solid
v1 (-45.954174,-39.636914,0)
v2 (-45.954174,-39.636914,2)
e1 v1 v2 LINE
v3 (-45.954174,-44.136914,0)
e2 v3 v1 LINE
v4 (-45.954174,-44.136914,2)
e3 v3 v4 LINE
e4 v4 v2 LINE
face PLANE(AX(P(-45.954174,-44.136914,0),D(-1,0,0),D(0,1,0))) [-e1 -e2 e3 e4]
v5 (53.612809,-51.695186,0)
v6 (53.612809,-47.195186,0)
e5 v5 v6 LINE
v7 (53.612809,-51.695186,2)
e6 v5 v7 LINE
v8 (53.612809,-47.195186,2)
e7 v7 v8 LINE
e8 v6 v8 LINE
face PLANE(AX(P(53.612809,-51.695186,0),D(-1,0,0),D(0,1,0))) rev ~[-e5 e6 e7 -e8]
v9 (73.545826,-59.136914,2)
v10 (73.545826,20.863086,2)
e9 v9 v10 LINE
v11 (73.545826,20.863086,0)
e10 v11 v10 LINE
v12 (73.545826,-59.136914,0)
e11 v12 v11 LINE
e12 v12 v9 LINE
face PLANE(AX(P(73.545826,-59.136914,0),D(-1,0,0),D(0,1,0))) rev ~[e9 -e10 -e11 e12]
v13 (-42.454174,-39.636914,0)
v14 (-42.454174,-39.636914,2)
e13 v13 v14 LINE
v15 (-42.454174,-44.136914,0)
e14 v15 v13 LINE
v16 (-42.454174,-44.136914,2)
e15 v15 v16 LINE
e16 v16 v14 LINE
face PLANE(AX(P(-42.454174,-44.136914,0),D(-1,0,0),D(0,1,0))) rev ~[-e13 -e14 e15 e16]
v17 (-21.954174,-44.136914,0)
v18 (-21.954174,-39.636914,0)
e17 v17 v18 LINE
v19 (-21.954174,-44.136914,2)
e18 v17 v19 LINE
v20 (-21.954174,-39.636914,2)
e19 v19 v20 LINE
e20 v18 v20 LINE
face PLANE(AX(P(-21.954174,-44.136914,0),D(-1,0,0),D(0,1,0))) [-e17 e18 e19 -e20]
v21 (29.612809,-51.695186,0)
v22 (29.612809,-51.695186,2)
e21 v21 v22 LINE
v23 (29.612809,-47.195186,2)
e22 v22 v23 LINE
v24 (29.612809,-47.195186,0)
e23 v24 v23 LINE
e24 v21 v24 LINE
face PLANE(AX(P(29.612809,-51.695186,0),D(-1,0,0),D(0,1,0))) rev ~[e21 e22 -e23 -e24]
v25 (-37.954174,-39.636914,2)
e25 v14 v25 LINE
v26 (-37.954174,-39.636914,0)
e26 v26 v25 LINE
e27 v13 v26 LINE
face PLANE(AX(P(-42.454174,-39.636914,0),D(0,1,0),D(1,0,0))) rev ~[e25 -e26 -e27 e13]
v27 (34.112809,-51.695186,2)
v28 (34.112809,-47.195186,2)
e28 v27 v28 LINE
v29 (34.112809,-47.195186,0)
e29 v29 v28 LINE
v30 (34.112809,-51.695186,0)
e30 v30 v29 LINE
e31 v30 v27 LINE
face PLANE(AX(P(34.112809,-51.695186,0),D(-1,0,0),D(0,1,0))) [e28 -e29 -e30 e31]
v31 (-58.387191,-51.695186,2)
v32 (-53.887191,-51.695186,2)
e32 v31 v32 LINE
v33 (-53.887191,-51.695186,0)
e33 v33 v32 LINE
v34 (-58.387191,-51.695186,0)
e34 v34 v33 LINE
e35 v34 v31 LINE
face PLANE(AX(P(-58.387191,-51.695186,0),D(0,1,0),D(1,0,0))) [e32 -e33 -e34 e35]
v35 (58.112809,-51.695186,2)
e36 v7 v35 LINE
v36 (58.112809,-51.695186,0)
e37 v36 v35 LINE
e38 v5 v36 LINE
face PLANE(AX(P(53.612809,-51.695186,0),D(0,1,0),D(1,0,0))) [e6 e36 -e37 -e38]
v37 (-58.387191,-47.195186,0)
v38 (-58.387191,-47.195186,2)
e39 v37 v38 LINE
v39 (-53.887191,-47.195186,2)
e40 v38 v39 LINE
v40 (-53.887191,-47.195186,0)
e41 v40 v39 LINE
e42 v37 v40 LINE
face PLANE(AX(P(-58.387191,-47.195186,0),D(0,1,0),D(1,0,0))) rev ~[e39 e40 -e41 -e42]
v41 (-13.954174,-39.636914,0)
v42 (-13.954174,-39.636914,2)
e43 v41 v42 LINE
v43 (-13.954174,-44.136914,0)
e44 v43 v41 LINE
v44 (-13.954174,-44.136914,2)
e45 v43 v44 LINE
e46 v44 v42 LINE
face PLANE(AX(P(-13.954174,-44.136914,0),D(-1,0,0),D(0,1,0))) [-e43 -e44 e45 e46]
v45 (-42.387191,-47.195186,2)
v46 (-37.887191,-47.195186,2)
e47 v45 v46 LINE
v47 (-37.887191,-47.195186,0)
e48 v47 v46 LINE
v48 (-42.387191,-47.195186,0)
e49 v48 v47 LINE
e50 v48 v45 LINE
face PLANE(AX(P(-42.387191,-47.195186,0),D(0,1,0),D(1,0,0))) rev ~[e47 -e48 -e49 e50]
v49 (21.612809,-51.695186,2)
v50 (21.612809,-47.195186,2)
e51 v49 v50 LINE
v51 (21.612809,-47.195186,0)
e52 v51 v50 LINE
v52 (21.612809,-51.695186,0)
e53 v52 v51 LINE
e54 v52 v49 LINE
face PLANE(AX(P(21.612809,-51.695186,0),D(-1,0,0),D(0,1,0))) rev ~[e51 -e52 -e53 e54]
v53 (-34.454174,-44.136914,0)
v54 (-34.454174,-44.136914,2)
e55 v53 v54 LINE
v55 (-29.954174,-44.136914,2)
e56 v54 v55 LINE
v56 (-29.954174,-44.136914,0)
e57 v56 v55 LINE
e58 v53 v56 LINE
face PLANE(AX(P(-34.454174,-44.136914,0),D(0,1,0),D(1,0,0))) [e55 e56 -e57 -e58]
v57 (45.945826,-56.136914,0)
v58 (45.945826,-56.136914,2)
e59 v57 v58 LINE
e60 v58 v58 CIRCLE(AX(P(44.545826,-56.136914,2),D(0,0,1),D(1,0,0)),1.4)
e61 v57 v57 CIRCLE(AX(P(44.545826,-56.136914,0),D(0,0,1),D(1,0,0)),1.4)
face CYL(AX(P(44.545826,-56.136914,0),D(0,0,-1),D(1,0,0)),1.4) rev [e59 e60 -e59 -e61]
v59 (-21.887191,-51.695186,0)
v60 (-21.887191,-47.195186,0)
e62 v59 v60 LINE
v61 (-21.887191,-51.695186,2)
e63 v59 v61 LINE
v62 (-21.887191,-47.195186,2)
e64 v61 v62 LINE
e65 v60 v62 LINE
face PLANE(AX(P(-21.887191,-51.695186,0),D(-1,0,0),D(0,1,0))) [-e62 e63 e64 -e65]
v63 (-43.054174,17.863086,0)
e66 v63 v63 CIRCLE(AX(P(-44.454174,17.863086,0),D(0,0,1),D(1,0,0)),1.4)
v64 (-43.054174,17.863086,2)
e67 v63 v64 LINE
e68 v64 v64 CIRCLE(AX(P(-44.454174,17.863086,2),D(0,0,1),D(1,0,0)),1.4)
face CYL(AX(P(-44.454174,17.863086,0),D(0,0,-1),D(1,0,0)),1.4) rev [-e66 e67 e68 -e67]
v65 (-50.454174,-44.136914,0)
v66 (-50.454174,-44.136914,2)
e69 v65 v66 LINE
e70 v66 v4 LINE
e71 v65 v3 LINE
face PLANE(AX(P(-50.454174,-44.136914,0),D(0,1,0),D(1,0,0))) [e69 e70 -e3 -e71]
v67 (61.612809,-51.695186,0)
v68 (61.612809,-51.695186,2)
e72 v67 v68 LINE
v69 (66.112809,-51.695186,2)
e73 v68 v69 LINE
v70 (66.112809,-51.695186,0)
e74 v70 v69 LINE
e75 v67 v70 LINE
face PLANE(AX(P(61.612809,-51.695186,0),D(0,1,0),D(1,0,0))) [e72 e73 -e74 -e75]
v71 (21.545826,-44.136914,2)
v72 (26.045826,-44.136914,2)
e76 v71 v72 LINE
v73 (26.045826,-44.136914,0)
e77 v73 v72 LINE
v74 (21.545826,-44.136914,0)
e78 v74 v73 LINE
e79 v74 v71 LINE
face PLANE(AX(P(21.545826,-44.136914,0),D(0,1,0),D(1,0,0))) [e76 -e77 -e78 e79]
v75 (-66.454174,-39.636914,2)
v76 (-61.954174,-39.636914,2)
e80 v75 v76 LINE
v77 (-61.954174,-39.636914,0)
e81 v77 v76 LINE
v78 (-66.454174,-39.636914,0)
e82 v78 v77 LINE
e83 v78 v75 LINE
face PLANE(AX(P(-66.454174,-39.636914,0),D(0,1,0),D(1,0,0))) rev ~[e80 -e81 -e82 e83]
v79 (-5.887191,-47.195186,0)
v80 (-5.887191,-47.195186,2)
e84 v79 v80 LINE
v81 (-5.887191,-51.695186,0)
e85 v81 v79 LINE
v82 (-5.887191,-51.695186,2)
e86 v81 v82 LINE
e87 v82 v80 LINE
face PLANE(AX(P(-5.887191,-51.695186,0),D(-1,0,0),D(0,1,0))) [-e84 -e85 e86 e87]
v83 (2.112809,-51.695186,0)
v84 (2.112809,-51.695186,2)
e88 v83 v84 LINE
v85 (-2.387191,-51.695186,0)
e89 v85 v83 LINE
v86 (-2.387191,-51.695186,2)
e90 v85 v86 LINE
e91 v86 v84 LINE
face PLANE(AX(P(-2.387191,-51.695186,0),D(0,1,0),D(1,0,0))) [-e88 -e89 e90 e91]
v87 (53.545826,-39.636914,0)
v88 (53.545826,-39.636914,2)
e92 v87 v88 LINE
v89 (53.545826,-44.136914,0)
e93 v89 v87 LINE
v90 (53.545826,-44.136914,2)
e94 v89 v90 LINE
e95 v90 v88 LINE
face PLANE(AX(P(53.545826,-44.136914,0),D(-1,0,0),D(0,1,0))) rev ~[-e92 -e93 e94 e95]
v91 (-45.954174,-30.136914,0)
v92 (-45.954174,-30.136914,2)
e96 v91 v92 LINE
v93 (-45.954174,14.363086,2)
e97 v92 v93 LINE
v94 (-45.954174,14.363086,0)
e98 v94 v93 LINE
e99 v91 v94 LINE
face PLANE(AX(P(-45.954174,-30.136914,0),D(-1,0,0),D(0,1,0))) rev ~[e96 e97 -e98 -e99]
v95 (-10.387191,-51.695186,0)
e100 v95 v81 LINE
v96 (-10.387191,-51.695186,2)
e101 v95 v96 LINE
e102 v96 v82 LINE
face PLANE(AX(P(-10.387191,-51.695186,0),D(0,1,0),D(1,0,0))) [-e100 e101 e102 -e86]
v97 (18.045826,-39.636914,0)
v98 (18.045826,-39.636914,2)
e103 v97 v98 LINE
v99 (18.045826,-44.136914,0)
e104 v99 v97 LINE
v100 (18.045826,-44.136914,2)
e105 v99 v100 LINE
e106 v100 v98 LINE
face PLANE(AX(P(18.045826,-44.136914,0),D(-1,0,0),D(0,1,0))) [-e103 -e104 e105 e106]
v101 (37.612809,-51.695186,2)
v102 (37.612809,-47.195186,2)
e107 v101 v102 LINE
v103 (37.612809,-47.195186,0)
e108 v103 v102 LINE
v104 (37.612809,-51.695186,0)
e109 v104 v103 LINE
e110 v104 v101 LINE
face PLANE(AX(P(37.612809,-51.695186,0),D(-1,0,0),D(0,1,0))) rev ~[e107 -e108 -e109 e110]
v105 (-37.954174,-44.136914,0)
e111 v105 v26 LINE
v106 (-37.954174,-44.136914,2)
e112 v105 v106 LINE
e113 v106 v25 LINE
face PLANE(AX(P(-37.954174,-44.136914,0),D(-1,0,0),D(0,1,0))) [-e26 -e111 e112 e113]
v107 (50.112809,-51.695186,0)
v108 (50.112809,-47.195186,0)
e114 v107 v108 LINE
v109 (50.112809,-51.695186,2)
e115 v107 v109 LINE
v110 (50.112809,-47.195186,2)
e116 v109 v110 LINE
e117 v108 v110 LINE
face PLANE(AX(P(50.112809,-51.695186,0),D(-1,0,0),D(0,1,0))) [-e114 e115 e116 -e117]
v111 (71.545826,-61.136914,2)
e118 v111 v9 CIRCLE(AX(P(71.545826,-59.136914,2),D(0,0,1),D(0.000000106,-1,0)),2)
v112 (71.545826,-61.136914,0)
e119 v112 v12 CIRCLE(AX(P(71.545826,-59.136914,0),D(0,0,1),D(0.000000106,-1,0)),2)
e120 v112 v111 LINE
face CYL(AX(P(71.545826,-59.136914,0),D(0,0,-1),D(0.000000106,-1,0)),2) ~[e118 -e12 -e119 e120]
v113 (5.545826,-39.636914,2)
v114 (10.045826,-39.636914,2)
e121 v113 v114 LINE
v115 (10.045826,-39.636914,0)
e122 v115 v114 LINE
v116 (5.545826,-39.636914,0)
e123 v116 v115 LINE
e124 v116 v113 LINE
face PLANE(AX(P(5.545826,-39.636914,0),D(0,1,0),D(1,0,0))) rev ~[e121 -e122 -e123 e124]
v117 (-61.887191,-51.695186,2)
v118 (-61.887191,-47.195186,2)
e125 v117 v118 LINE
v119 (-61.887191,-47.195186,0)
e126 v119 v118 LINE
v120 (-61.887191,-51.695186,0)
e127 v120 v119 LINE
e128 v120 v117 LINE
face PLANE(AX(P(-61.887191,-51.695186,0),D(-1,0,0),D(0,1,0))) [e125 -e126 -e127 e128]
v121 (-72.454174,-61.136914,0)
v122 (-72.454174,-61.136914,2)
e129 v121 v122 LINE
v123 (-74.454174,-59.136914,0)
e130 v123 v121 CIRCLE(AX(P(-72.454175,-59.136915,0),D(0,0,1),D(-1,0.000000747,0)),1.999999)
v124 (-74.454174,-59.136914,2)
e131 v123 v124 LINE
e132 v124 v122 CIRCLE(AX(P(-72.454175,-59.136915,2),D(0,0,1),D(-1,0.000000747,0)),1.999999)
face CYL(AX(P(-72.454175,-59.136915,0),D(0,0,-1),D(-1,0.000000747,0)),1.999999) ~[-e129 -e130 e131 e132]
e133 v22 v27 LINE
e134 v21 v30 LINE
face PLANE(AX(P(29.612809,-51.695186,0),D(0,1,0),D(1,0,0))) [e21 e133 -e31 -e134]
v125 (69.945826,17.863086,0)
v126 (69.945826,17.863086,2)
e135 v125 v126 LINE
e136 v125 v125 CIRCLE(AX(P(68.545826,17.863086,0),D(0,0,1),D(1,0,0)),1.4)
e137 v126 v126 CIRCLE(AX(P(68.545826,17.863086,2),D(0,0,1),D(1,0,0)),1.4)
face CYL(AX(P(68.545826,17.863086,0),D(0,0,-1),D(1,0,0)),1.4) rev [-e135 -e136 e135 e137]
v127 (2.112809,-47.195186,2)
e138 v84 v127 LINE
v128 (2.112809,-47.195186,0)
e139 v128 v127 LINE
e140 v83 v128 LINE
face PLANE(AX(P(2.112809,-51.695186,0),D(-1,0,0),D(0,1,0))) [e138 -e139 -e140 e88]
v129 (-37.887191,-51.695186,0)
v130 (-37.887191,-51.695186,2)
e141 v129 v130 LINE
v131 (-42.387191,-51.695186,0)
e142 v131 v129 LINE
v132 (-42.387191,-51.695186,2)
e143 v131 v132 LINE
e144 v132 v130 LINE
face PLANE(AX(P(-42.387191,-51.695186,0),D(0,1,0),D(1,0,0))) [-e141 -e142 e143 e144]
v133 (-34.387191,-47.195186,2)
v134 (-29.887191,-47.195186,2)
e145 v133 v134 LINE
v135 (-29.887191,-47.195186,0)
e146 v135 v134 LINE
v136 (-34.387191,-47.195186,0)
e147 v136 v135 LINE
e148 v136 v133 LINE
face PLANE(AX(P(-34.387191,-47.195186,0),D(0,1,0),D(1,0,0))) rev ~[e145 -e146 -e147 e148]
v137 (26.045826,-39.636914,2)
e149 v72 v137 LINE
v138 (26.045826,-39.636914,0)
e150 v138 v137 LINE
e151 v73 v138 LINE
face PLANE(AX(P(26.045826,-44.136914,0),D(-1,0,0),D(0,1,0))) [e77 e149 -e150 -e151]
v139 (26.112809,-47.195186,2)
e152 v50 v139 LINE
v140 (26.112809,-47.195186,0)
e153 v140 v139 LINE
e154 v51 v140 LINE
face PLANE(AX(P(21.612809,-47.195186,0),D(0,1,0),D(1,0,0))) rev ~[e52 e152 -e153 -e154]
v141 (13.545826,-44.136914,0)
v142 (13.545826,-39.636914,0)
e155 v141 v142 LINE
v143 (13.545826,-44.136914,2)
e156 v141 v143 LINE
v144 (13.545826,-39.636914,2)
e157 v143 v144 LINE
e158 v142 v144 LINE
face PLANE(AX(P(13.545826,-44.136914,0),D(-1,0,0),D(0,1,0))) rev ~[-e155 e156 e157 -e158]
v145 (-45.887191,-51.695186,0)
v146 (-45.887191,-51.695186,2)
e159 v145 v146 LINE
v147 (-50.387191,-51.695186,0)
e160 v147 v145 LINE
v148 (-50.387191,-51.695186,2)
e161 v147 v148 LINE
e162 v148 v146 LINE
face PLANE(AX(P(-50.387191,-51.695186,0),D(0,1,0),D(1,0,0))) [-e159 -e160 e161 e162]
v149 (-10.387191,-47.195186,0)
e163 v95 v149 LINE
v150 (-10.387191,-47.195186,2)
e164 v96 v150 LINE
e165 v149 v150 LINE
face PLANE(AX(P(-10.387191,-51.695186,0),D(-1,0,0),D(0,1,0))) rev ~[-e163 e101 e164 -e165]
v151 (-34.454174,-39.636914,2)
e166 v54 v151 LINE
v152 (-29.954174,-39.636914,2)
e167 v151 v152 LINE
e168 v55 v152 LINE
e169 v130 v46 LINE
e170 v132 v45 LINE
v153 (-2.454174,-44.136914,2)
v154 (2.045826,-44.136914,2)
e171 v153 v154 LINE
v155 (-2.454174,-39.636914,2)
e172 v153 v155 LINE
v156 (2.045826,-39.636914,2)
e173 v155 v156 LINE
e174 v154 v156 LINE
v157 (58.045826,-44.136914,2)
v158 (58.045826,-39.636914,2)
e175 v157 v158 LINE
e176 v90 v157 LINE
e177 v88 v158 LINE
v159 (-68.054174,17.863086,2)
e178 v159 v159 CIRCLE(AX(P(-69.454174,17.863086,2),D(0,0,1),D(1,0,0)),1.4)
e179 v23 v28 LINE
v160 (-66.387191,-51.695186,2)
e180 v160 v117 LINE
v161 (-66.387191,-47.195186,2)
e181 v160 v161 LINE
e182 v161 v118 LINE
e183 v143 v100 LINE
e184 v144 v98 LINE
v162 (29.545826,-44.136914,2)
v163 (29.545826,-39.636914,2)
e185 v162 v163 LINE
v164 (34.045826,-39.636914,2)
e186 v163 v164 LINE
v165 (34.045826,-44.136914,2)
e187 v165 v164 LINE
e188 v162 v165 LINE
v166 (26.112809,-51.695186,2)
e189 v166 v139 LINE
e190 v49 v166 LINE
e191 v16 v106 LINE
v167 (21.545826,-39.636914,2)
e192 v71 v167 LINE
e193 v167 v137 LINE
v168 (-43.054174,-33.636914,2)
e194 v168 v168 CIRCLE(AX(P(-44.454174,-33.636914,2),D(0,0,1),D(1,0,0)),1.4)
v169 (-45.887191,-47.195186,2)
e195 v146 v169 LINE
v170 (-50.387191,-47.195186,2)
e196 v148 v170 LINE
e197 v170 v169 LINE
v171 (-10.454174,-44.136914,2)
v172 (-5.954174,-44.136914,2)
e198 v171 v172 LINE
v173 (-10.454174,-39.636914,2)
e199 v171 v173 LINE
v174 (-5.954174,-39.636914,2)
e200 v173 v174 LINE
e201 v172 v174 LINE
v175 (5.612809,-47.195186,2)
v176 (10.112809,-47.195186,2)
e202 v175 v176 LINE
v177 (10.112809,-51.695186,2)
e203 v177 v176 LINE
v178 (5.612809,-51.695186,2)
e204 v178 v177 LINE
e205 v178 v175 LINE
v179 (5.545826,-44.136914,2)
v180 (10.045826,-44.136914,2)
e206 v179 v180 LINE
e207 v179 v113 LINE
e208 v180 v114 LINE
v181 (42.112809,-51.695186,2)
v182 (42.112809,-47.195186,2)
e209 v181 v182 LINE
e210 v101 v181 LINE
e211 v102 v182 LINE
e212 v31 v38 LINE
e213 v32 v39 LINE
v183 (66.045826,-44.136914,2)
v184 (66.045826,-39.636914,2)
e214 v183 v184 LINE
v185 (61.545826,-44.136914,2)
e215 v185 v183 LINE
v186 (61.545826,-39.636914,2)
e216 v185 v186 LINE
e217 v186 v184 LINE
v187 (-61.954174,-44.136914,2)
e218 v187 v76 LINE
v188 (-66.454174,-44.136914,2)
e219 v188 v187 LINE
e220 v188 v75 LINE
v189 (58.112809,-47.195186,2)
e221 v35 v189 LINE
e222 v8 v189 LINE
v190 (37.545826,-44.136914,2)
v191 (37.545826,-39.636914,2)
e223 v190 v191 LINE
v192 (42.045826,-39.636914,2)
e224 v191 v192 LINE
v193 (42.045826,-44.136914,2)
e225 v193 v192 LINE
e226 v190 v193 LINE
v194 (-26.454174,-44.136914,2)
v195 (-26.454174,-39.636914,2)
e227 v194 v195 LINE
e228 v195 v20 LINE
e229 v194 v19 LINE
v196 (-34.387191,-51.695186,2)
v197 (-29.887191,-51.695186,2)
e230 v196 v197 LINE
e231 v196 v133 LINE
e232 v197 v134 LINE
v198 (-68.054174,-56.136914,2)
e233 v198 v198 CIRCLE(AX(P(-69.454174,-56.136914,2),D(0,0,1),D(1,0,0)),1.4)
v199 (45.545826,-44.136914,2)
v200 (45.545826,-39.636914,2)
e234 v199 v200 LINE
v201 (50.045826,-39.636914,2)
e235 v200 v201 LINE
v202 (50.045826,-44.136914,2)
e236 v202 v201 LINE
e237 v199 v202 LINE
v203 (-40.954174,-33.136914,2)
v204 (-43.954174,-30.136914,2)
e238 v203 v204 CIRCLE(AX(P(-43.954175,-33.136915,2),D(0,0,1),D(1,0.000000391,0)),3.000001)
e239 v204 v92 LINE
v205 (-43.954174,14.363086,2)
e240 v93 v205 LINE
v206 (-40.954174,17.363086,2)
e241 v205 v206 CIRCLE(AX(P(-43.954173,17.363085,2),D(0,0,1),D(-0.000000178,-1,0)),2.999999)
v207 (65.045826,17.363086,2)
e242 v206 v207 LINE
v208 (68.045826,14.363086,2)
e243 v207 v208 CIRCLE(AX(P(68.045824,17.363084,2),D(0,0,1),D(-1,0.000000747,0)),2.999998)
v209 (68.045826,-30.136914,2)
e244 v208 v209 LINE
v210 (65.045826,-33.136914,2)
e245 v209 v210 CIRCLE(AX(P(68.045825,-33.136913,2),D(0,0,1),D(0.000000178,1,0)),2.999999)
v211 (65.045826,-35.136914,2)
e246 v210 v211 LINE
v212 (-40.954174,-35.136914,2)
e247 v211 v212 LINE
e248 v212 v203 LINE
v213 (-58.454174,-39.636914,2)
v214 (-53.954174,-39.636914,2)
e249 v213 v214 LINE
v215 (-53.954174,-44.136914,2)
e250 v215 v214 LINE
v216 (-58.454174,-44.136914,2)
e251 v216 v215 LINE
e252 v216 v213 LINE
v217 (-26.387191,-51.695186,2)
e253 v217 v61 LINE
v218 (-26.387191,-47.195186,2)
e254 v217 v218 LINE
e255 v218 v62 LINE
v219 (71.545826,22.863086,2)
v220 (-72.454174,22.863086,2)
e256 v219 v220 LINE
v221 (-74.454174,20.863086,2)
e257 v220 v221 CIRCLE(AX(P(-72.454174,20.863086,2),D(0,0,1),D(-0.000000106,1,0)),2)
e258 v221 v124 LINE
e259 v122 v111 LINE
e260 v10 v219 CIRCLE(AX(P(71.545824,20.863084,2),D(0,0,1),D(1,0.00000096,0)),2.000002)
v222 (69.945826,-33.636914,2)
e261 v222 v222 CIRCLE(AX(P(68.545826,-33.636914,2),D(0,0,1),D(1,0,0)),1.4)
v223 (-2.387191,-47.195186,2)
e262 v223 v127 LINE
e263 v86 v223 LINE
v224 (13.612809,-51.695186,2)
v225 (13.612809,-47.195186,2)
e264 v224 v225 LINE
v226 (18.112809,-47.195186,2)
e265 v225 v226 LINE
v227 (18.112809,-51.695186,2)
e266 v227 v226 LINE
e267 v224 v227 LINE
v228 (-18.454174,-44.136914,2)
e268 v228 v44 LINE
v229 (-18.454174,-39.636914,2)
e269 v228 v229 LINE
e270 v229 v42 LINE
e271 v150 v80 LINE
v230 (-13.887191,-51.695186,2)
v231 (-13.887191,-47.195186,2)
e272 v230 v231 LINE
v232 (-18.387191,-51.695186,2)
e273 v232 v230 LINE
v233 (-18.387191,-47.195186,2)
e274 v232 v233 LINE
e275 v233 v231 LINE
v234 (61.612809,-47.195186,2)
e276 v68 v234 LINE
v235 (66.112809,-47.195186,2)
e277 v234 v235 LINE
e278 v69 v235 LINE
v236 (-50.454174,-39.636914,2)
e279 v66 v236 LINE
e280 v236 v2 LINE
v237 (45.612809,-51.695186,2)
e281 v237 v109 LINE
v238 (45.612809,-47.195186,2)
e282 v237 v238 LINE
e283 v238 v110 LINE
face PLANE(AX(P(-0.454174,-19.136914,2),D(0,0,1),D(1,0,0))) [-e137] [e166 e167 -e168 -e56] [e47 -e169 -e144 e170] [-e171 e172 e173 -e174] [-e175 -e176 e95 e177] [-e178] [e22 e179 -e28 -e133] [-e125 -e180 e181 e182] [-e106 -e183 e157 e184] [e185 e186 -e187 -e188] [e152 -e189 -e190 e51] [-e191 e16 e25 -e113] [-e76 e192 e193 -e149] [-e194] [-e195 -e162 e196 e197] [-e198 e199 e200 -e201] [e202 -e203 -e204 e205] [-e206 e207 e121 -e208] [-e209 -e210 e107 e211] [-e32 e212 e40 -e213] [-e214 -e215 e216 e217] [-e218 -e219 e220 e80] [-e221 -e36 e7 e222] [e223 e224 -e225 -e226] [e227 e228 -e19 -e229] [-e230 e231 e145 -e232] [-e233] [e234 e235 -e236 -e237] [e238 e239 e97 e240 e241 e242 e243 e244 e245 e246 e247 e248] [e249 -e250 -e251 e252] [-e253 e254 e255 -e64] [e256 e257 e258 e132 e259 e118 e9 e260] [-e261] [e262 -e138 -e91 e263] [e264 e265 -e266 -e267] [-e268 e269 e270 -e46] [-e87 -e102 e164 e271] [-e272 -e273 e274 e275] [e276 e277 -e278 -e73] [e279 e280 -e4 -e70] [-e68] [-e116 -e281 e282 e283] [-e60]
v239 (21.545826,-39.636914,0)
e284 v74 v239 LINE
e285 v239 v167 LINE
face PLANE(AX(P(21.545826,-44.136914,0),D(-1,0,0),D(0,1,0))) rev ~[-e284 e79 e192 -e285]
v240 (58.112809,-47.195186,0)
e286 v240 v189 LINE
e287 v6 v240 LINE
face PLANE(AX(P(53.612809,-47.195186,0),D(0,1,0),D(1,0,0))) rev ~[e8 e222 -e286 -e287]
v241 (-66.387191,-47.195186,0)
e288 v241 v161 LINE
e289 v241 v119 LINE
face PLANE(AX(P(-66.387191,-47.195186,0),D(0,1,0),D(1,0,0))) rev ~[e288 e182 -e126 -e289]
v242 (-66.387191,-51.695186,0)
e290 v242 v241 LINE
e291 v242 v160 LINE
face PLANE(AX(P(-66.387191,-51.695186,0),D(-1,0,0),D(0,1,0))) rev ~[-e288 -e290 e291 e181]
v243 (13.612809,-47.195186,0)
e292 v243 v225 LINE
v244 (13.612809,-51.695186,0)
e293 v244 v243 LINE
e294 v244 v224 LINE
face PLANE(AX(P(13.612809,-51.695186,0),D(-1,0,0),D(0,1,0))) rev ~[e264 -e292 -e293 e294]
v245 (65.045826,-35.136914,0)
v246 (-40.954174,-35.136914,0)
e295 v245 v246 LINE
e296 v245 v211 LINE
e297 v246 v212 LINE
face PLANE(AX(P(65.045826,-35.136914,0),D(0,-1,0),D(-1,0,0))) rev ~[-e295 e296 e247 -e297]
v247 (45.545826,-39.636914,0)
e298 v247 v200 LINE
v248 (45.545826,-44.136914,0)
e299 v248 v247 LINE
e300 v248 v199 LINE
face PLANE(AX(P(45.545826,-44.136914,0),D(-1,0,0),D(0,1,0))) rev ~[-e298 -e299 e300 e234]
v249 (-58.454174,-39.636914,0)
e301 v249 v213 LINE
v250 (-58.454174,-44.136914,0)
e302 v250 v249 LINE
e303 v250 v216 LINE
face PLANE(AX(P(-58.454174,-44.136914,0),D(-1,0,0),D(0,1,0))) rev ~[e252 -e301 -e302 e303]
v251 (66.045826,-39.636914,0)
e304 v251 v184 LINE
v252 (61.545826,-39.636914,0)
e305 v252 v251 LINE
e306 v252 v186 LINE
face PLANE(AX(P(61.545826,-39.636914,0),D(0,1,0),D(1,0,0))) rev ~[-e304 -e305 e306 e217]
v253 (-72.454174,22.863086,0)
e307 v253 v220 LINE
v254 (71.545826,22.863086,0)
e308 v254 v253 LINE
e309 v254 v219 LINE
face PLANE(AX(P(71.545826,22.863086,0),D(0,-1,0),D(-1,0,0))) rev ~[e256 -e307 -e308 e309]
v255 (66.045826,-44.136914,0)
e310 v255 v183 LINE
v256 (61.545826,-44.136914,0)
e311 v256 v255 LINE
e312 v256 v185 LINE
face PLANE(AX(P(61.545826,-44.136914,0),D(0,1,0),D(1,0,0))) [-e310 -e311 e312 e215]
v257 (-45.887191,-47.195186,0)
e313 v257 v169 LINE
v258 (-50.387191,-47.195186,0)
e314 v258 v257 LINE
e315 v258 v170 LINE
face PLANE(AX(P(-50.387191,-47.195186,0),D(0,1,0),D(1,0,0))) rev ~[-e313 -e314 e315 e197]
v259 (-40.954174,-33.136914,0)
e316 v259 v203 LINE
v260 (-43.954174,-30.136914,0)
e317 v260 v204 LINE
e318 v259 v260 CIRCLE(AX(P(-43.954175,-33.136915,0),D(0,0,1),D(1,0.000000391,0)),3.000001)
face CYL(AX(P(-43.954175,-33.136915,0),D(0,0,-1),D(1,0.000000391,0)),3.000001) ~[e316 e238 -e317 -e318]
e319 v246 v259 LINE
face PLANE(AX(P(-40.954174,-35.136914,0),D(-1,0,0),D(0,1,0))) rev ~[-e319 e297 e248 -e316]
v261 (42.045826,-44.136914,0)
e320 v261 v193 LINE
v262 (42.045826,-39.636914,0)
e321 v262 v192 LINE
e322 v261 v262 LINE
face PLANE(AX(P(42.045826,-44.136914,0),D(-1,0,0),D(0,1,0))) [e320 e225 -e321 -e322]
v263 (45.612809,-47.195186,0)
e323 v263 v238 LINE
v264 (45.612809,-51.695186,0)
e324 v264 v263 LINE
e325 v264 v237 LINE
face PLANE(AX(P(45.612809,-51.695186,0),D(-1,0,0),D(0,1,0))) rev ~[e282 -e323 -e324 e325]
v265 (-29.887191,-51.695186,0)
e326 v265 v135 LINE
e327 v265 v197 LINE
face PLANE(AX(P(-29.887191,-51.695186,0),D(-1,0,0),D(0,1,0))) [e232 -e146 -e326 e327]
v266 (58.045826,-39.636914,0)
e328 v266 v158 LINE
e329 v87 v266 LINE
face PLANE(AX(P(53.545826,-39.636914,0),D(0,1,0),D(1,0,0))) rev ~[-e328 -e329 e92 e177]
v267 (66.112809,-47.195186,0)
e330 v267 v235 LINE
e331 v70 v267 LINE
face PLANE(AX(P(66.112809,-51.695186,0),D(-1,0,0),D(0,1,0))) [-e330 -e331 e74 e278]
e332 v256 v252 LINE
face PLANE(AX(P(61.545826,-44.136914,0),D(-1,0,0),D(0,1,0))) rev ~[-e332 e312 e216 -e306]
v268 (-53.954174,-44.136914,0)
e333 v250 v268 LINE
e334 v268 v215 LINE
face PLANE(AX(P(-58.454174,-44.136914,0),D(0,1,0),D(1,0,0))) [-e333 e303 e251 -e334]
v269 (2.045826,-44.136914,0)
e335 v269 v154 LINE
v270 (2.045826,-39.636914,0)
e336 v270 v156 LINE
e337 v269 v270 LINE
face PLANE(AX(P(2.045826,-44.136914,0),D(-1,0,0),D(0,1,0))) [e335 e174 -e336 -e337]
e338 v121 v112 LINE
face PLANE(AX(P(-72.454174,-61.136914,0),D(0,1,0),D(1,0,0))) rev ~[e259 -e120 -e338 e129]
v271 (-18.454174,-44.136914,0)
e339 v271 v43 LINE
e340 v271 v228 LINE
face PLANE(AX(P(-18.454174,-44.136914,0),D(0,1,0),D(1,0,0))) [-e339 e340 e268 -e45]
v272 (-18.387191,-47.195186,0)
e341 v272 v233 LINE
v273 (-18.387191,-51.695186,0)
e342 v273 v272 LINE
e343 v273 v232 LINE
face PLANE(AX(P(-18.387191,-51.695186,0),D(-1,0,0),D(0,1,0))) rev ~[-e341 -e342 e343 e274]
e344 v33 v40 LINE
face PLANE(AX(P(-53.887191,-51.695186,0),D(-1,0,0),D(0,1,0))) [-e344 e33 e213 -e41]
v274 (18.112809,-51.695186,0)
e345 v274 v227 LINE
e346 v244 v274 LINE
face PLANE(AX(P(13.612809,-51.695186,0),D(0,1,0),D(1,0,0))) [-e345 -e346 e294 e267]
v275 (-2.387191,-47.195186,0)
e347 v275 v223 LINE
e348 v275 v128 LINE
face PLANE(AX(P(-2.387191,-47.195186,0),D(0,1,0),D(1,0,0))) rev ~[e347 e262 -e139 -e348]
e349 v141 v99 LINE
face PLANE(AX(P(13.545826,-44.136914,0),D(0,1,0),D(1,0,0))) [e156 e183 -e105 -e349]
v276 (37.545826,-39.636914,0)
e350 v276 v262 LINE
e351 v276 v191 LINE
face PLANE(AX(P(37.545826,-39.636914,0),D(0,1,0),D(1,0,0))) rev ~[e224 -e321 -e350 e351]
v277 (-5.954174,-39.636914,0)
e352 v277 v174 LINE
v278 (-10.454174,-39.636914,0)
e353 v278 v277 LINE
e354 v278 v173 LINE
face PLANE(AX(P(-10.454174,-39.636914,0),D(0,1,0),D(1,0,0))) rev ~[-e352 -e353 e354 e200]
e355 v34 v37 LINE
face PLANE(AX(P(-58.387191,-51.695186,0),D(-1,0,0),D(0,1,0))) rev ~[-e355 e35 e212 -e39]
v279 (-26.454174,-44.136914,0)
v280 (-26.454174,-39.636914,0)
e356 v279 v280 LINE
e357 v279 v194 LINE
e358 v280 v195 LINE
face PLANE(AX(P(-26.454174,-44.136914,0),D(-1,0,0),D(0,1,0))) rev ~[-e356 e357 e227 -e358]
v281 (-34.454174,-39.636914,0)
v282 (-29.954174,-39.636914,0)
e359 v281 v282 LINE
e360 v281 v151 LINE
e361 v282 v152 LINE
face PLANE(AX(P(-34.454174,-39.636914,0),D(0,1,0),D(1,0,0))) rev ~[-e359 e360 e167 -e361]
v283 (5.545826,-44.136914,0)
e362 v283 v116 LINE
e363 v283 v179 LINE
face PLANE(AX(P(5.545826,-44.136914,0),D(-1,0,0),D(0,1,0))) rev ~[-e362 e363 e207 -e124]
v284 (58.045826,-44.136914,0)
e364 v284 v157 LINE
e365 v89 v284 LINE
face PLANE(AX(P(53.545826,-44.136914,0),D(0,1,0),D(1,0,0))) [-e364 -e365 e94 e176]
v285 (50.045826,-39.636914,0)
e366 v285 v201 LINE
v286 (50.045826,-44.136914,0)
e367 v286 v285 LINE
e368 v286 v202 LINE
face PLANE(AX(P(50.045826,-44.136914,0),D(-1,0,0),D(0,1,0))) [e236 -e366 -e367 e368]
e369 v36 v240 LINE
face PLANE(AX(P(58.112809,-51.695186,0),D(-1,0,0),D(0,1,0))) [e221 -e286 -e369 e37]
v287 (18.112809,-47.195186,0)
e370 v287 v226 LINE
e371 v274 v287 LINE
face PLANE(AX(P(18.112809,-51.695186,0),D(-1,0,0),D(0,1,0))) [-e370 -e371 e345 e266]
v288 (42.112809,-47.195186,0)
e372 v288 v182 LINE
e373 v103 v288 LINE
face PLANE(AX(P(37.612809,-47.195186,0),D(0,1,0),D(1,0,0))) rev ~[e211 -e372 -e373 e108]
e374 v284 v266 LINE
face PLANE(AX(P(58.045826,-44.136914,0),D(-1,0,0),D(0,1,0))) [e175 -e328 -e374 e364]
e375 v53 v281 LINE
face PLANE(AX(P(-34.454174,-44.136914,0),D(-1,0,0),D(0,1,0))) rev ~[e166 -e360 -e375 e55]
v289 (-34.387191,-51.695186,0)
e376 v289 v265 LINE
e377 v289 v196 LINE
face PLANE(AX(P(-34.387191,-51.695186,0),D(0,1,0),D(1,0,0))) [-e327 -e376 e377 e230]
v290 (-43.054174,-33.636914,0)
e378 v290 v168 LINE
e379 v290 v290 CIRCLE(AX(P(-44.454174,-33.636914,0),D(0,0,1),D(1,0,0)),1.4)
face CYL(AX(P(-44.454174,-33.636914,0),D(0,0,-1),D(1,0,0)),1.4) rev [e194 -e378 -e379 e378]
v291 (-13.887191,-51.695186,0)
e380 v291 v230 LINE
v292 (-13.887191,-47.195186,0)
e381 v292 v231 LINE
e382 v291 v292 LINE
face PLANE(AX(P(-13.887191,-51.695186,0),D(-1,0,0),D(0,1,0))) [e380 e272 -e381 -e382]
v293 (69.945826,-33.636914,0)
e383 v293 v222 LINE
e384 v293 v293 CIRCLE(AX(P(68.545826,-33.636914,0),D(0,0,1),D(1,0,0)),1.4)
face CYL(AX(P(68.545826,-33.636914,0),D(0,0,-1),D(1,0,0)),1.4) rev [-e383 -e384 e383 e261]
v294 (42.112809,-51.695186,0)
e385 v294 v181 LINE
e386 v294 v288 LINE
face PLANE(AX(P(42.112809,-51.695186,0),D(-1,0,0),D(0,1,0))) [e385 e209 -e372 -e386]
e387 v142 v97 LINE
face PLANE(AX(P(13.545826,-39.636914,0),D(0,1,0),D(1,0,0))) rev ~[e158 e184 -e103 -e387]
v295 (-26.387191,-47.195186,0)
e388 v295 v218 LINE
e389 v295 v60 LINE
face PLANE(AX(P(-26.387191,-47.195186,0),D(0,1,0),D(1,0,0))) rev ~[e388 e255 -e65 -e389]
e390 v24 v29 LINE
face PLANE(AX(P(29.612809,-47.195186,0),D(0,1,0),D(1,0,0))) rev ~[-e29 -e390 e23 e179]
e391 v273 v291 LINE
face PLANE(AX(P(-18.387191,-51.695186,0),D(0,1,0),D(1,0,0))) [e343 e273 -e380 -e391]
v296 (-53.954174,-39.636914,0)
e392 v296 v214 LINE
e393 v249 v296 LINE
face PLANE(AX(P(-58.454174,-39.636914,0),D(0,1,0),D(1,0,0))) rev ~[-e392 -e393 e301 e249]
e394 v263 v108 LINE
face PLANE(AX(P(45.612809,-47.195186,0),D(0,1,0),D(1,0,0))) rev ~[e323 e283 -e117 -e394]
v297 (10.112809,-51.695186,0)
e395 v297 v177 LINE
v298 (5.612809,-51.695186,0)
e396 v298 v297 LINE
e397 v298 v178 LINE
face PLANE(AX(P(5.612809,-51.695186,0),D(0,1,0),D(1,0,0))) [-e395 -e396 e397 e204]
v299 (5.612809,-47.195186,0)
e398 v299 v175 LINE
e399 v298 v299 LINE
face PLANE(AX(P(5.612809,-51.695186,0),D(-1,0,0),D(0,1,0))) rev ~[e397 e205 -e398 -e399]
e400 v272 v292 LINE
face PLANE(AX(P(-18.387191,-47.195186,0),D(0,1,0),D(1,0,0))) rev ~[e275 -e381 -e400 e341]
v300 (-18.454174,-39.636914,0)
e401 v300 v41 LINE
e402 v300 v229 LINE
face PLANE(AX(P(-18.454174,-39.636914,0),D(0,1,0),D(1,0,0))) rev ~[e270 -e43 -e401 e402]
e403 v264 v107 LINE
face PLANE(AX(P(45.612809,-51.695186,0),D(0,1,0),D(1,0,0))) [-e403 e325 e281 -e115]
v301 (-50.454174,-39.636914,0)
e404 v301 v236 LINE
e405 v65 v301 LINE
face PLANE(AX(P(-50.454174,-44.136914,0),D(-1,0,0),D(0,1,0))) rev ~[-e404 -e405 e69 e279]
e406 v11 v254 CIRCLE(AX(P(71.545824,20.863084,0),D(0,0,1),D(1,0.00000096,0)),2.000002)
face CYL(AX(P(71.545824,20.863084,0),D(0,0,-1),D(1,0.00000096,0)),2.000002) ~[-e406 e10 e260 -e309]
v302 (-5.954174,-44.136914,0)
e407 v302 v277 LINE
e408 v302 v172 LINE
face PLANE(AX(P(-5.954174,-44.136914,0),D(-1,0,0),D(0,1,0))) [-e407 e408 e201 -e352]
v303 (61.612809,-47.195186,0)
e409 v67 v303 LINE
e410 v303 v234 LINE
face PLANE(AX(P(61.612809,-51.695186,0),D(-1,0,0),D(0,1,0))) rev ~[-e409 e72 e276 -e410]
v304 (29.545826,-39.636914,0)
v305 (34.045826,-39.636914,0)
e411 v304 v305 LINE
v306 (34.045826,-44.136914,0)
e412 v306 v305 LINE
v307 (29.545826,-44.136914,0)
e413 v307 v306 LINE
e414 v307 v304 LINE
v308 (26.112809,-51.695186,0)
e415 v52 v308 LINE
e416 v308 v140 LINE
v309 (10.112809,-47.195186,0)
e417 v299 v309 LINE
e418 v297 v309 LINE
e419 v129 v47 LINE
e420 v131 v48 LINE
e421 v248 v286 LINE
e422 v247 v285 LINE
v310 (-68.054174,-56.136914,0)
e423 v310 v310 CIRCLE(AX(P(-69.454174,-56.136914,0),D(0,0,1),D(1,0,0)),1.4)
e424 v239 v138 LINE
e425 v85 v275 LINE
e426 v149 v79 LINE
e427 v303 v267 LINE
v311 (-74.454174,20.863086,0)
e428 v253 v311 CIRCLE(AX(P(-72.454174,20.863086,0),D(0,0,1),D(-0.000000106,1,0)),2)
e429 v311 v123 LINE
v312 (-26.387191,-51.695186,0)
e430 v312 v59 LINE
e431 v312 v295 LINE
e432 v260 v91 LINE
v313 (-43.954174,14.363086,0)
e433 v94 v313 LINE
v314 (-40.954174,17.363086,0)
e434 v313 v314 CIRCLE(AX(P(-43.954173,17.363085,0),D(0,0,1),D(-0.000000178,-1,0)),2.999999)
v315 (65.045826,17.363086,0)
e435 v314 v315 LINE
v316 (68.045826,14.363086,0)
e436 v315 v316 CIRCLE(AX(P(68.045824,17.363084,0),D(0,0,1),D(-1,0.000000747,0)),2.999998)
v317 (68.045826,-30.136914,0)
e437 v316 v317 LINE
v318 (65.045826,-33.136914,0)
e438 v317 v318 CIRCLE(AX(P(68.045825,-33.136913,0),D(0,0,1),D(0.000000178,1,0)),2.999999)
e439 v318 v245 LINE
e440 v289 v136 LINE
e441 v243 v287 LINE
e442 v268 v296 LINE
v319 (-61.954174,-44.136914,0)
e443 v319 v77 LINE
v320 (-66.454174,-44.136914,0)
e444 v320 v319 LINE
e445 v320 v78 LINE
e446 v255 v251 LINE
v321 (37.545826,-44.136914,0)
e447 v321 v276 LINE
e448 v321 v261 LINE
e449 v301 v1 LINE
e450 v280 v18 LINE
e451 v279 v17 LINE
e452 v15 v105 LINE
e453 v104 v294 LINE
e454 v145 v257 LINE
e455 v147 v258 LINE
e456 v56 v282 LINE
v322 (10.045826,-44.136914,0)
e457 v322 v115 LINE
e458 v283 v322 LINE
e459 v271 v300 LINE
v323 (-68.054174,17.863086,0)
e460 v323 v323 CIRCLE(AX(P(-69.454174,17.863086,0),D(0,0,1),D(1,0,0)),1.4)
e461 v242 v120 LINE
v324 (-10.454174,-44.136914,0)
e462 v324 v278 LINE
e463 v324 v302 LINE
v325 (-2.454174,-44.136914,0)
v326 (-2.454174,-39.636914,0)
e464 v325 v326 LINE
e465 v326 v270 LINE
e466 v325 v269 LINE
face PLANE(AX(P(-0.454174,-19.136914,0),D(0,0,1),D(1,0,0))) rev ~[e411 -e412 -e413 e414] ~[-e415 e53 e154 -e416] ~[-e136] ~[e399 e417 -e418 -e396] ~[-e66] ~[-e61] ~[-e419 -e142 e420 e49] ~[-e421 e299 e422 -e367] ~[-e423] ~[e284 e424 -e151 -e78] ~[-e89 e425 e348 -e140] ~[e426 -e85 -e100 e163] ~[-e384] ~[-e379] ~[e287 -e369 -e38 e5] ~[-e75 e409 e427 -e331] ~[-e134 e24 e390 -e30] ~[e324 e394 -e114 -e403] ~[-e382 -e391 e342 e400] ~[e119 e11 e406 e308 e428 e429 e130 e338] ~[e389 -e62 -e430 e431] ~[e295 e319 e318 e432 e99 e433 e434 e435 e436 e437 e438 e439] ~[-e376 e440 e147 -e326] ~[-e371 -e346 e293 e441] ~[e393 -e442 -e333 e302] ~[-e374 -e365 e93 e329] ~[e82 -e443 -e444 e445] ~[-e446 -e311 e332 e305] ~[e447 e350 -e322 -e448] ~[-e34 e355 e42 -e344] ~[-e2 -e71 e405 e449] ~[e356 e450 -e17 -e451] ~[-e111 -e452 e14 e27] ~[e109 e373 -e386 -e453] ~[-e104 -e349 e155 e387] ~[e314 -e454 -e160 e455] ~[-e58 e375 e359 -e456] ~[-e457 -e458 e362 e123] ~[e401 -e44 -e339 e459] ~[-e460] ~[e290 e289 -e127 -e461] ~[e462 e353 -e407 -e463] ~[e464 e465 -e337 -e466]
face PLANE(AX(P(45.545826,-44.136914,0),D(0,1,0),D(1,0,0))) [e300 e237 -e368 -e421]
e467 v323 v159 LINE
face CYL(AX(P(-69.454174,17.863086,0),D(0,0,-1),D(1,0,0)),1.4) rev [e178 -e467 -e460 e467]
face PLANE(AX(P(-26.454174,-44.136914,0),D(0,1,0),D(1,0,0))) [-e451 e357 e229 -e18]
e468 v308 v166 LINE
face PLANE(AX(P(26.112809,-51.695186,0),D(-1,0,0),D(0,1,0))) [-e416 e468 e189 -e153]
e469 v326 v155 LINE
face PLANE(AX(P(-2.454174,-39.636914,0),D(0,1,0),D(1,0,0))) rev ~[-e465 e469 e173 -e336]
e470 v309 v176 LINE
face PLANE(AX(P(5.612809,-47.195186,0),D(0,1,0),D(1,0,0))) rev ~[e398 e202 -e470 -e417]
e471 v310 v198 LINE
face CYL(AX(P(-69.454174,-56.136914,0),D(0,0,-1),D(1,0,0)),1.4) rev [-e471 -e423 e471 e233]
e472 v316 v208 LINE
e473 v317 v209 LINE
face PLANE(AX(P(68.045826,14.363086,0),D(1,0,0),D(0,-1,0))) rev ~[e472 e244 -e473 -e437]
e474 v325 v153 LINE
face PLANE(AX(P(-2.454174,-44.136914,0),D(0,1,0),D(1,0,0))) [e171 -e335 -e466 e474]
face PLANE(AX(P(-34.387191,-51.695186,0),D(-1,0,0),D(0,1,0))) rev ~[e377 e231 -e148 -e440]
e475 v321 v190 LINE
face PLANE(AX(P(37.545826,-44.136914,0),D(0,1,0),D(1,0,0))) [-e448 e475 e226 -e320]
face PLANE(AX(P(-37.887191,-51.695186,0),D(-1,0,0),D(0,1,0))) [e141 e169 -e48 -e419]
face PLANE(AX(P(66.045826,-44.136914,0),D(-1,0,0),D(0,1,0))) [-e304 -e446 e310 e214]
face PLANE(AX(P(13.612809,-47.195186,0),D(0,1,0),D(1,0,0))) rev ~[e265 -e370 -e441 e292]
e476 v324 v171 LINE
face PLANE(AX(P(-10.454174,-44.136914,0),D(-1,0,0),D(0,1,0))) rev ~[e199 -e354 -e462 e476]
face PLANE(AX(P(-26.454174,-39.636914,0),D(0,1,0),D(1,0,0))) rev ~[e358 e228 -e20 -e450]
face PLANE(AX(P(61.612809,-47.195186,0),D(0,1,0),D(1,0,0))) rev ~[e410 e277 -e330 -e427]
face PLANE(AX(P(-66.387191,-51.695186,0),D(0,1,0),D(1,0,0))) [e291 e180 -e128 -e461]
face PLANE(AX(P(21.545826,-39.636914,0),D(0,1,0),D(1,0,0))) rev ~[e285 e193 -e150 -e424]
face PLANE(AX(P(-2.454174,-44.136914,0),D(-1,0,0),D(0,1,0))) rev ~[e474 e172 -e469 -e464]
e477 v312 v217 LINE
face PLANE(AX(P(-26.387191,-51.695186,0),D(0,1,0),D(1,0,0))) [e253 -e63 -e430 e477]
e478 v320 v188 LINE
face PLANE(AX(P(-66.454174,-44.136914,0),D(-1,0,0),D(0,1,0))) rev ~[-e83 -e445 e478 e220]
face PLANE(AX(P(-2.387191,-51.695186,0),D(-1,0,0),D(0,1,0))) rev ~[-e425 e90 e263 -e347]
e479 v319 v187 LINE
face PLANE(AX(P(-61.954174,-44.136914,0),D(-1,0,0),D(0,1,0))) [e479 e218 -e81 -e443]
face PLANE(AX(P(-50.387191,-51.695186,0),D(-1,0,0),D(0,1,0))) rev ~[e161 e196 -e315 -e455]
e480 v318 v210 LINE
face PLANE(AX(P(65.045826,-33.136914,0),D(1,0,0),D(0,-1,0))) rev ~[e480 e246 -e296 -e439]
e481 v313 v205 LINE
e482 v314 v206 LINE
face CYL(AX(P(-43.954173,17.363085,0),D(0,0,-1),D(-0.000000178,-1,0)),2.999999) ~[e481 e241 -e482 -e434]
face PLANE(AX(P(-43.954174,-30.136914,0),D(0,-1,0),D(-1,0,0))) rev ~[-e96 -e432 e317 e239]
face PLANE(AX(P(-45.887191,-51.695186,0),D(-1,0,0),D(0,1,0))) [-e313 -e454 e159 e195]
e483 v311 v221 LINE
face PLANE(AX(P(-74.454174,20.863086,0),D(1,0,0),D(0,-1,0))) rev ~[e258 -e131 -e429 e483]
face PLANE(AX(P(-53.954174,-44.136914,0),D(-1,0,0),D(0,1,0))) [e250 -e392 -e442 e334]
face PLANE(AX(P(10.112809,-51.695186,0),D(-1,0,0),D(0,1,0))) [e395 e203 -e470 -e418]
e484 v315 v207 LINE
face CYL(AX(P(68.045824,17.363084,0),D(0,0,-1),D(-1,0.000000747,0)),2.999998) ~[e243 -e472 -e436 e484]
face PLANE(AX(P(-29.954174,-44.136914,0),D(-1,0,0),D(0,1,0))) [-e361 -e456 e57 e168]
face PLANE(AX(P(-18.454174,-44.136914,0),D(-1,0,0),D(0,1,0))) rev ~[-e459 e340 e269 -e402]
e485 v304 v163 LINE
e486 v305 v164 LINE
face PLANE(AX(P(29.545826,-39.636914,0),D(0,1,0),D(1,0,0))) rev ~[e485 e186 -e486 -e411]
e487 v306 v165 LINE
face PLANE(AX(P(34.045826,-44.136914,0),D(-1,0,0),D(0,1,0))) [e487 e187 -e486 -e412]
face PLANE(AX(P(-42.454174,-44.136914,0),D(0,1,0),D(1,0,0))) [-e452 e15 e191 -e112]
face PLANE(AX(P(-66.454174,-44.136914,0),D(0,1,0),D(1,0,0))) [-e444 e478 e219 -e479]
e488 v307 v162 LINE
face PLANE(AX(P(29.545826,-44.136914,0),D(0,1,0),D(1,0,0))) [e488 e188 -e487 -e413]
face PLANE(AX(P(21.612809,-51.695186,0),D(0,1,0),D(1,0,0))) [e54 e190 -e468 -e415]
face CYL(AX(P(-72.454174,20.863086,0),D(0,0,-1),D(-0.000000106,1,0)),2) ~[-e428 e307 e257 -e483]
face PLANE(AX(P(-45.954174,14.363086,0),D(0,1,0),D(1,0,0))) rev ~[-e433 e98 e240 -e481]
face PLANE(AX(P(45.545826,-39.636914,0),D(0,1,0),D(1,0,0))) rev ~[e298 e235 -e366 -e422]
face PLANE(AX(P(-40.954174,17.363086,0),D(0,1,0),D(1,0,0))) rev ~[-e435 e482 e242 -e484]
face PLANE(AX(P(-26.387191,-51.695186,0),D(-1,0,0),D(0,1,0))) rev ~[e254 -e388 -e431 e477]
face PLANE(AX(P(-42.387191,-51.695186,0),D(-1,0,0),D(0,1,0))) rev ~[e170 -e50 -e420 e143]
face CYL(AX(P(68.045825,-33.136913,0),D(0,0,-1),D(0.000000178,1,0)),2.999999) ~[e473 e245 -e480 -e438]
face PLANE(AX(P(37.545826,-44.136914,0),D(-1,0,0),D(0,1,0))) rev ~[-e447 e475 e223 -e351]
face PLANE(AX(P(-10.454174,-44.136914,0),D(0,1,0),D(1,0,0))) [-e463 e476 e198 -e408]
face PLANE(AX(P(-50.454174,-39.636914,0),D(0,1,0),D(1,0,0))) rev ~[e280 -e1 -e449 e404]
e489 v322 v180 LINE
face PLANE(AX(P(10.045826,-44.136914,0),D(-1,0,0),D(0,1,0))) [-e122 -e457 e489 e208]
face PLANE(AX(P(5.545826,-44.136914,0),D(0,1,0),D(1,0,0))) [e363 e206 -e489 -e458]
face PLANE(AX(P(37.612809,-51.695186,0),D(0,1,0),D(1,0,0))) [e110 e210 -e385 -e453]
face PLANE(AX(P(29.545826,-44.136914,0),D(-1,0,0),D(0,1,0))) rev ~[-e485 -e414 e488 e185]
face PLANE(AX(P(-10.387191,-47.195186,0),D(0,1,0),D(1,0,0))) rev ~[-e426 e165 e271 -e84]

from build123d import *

# Parameters (mm, degrees)
F0_R     = 1.4
F0_W     = 4.5
F0_H     = 4.5
F1_DEPTH = 2


with BuildPart() as f1:
    # F0 (on Top) → F1 (new body)
    with BuildSketch(Plane.XY):
        with BuildLine():
            Line((71.545826, 22.863086), (-72.454174, 22.863086))
            ThreePointArc((-72.454174, 22.863086), (-73.868388, 22.277299), (-74.454174, 20.863086))
            Line((-74.454174, 20.863086), (-74.454174, -59.136914))
            ThreePointArc((-74.454174, -59.136914), (-73.868388, -60.551128), (-72.454174, -61.136914))
            Line((-72.454174, -61.136914), (71.545826, -61.136914))
            ThreePointArc((71.545826, -61.136914), (72.960039, -60.551128), (73.545826, -59.136914))
            Line((73.545826, -59.136914), (73.545826, 20.863086))
            ThreePointArc((73.545826, 20.863086), (72.960039, 22.277299), (71.545826, 22.863086))
        make_face()
        with Locations((-69.454174, -56.136914)):
            Circle(F0_R, mode=Mode.SUBTRACT)
        with Locations((-64.137191, -49.445186)):
            Rectangle(F0_W, F0_H, mode=Mode.SUBTRACT)
        with Locations((-56.137191, -49.445186)):
            Rectangle(F0_W, F0_H, mode=Mode.SUBTRACT)
        with Locations((-64.204174, -41.886914)):
            Rectangle(F0_W, F0_H, mode=Mode.SUBTRACT)
        with Locations((-56.204174, -41.886914)):
            Rectangle(F0_W, F0_H, mode=Mode.SUBTRACT)
        with Locations((-48.137191, -49.445186)):
            Rectangle(F0_W, F0_H, mode=Mode.SUBTRACT)
        with Locations((-40.137191, -49.445186)):
            Rectangle(F0_W, F0_H, mode=Mode.SUBTRACT)
        with Locations((-48.204174, -41.886914)):
            Rectangle(F0_W, F0_H, mode=Mode.SUBTRACT)
        with Locations((-40.204174, -41.886914)):
            Rectangle(F0_W, F0_H, mode=Mode.SUBTRACT)
        with Locations((-32.137191, -49.445186)):
            Rectangle(F0_W, F0_H, mode=Mode.SUBTRACT)
        with Locations((-24.137191, -49.445186)):
            Rectangle(F0_W, F0_H, mode=Mode.SUBTRACT)
        with Locations((-32.204174, -41.886914)):
            Rectangle(F0_W, F0_H, mode=Mode.SUBTRACT)
        with Locations((-24.204174, -41.886914)):
            Rectangle(F0_W, F0_H, mode=Mode.SUBTRACT)
        with Locations((-16.137191, -49.445186)):
            Rectangle(F0_W, F0_H, mode=Mode.SUBTRACT)
        with Locations((-8.137191, -49.445186)):
            Rectangle(F0_W, F0_H, mode=Mode.SUBTRACT)
        with Locations((-16.204174, -41.886914)):
            Rectangle(F0_W, F0_H, mode=Mode.SUBTRACT)
        with Locations((-8.204174, -41.886914)):
            Rectangle(F0_W, F0_H, mode=Mode.SUBTRACT)
        with Locations((-44.454174, -33.636914)):
            Circle(F0_R, mode=Mode.SUBTRACT)
        with Locations((-0.137191, -49.445186)):
            Rectangle(F0_W, F0_H, mode=Mode.SUBTRACT)
        with Locations((7.862809, -49.445186)):
            Rectangle(F0_W, F0_H, mode=Mode.SUBTRACT)
        with Locations((15.862809, -49.445186)):
            Rectangle(F0_W, F0_H, mode=Mode.SUBTRACT)
        with Locations((-0.204174, -41.886914)):
            Rectangle(F0_W, F0_H, mode=Mode.SUBTRACT)
        with Locations((7.795826, -41.886914)):
            Rectangle(F0_W, F0_H, mode=Mode.SUBTRACT)
        with Locations((15.795826, -41.886914)):
            Rectangle(F0_W, F0_H, mode=Mode.SUBTRACT)
        with Locations((23.862809, -49.445186)):
            Rectangle(F0_W, F0_H, mode=Mode.SUBTRACT)
        with Locations((31.862809, -49.445186)):
            Rectangle(F0_W, F0_H, mode=Mode.SUBTRACT)
        with Locations((23.795826, -41.886914)):
            Rectangle(F0_W, F0_H, mode=Mode.SUBTRACT)
        with Locations((31.795826, -41.886914)):
            Rectangle(F0_W, F0_H, mode=Mode.SUBTRACT)
        with Locations((44.545826, -56.136914)):
            Circle(F0_R, mode=Mode.SUBTRACT)
        with Locations((39.862809, -49.445186)):
            Rectangle(F0_W, F0_H, mode=Mode.SUBTRACT)
        with Locations((47.862809, -49.445186)):
            Rectangle(F0_W, F0_H, mode=Mode.SUBTRACT)
        with Locations((39.795826, -41.886914)):
            Rectangle(F0_W, F0_H, mode=Mode.SUBTRACT)
        with Locations((47.795826, -41.886914)):
            Rectangle(F0_W, F0_H, mode=Mode.SUBTRACT)
        with Locations((55.862809, -49.445186)):
            Rectangle(F0_W, F0_H, mode=Mode.SUBTRACT)
        with Locations((63.862809, -49.445186)):
            Rectangle(F0_W, F0_H, mode=Mode.SUBTRACT)
        with Locations((55.795826, -41.886914)):
            Rectangle(F0_W, F0_H, mode=Mode.SUBTRACT)
        with Locations((63.795826, -41.886914)):
            Rectangle(F0_W, F0_H, mode=Mode.SUBTRACT)
        with Locations((68.545826, -33.636914)):
            Circle(F0_R, mode=Mode.SUBTRACT)
        with Locations((-69.454174, 17.863086)):
            Circle(F0_R, mode=Mode.SUBTRACT)
        with Locations((-44.454174, 17.863086)):
            Circle(F0_R, mode=Mode.SUBTRACT)
        with BuildLine():
            Line((-45.954174, -30.136914), (-45.954174, 14.363086))
            Line((-45.954174, 14.363086), (-43.954174, 14.363086))
            ThreePointArc((-43.954174, 14.363086), (-41.832854, 15.241765), (-40.954174, 17.363086))
            Line((-40.954174, 17.363086), (65.045826, 17.363086))
            ThreePointArc((65.045826, 17.363086), (65.924505, 15.241765), (68.045826, 14.363086))
            Line((68.045826, 14.363086), (68.045826, -30.136914))
            ThreePointArc((68.045826, -30.136914), (65.924505, -31.015594), (65.045826, -33.136914))
            Line((65.045826, -33.136914), (65.045826, -35.136914))
            Line((65.045826, -35.136914), (-40.954174, -35.136914))
            Line((-40.954174, -35.136914), (-40.954174, -33.136914))
            ThreePointArc((-40.954174, -33.136914), (-41.832854, -31.015594), (-43.954174, -30.136914))
            Line((-43.954174, -30.136914), (-45.954174, -30.136914))
        make_face(mode=Mode.SUBTRACT)
        with Locations((68.545826, 17.863086)):
            Circle(F0_R, mode=Mode.SUBTRACT)
    extrude(amount=F1_DEPTH)


solid = f1.part
